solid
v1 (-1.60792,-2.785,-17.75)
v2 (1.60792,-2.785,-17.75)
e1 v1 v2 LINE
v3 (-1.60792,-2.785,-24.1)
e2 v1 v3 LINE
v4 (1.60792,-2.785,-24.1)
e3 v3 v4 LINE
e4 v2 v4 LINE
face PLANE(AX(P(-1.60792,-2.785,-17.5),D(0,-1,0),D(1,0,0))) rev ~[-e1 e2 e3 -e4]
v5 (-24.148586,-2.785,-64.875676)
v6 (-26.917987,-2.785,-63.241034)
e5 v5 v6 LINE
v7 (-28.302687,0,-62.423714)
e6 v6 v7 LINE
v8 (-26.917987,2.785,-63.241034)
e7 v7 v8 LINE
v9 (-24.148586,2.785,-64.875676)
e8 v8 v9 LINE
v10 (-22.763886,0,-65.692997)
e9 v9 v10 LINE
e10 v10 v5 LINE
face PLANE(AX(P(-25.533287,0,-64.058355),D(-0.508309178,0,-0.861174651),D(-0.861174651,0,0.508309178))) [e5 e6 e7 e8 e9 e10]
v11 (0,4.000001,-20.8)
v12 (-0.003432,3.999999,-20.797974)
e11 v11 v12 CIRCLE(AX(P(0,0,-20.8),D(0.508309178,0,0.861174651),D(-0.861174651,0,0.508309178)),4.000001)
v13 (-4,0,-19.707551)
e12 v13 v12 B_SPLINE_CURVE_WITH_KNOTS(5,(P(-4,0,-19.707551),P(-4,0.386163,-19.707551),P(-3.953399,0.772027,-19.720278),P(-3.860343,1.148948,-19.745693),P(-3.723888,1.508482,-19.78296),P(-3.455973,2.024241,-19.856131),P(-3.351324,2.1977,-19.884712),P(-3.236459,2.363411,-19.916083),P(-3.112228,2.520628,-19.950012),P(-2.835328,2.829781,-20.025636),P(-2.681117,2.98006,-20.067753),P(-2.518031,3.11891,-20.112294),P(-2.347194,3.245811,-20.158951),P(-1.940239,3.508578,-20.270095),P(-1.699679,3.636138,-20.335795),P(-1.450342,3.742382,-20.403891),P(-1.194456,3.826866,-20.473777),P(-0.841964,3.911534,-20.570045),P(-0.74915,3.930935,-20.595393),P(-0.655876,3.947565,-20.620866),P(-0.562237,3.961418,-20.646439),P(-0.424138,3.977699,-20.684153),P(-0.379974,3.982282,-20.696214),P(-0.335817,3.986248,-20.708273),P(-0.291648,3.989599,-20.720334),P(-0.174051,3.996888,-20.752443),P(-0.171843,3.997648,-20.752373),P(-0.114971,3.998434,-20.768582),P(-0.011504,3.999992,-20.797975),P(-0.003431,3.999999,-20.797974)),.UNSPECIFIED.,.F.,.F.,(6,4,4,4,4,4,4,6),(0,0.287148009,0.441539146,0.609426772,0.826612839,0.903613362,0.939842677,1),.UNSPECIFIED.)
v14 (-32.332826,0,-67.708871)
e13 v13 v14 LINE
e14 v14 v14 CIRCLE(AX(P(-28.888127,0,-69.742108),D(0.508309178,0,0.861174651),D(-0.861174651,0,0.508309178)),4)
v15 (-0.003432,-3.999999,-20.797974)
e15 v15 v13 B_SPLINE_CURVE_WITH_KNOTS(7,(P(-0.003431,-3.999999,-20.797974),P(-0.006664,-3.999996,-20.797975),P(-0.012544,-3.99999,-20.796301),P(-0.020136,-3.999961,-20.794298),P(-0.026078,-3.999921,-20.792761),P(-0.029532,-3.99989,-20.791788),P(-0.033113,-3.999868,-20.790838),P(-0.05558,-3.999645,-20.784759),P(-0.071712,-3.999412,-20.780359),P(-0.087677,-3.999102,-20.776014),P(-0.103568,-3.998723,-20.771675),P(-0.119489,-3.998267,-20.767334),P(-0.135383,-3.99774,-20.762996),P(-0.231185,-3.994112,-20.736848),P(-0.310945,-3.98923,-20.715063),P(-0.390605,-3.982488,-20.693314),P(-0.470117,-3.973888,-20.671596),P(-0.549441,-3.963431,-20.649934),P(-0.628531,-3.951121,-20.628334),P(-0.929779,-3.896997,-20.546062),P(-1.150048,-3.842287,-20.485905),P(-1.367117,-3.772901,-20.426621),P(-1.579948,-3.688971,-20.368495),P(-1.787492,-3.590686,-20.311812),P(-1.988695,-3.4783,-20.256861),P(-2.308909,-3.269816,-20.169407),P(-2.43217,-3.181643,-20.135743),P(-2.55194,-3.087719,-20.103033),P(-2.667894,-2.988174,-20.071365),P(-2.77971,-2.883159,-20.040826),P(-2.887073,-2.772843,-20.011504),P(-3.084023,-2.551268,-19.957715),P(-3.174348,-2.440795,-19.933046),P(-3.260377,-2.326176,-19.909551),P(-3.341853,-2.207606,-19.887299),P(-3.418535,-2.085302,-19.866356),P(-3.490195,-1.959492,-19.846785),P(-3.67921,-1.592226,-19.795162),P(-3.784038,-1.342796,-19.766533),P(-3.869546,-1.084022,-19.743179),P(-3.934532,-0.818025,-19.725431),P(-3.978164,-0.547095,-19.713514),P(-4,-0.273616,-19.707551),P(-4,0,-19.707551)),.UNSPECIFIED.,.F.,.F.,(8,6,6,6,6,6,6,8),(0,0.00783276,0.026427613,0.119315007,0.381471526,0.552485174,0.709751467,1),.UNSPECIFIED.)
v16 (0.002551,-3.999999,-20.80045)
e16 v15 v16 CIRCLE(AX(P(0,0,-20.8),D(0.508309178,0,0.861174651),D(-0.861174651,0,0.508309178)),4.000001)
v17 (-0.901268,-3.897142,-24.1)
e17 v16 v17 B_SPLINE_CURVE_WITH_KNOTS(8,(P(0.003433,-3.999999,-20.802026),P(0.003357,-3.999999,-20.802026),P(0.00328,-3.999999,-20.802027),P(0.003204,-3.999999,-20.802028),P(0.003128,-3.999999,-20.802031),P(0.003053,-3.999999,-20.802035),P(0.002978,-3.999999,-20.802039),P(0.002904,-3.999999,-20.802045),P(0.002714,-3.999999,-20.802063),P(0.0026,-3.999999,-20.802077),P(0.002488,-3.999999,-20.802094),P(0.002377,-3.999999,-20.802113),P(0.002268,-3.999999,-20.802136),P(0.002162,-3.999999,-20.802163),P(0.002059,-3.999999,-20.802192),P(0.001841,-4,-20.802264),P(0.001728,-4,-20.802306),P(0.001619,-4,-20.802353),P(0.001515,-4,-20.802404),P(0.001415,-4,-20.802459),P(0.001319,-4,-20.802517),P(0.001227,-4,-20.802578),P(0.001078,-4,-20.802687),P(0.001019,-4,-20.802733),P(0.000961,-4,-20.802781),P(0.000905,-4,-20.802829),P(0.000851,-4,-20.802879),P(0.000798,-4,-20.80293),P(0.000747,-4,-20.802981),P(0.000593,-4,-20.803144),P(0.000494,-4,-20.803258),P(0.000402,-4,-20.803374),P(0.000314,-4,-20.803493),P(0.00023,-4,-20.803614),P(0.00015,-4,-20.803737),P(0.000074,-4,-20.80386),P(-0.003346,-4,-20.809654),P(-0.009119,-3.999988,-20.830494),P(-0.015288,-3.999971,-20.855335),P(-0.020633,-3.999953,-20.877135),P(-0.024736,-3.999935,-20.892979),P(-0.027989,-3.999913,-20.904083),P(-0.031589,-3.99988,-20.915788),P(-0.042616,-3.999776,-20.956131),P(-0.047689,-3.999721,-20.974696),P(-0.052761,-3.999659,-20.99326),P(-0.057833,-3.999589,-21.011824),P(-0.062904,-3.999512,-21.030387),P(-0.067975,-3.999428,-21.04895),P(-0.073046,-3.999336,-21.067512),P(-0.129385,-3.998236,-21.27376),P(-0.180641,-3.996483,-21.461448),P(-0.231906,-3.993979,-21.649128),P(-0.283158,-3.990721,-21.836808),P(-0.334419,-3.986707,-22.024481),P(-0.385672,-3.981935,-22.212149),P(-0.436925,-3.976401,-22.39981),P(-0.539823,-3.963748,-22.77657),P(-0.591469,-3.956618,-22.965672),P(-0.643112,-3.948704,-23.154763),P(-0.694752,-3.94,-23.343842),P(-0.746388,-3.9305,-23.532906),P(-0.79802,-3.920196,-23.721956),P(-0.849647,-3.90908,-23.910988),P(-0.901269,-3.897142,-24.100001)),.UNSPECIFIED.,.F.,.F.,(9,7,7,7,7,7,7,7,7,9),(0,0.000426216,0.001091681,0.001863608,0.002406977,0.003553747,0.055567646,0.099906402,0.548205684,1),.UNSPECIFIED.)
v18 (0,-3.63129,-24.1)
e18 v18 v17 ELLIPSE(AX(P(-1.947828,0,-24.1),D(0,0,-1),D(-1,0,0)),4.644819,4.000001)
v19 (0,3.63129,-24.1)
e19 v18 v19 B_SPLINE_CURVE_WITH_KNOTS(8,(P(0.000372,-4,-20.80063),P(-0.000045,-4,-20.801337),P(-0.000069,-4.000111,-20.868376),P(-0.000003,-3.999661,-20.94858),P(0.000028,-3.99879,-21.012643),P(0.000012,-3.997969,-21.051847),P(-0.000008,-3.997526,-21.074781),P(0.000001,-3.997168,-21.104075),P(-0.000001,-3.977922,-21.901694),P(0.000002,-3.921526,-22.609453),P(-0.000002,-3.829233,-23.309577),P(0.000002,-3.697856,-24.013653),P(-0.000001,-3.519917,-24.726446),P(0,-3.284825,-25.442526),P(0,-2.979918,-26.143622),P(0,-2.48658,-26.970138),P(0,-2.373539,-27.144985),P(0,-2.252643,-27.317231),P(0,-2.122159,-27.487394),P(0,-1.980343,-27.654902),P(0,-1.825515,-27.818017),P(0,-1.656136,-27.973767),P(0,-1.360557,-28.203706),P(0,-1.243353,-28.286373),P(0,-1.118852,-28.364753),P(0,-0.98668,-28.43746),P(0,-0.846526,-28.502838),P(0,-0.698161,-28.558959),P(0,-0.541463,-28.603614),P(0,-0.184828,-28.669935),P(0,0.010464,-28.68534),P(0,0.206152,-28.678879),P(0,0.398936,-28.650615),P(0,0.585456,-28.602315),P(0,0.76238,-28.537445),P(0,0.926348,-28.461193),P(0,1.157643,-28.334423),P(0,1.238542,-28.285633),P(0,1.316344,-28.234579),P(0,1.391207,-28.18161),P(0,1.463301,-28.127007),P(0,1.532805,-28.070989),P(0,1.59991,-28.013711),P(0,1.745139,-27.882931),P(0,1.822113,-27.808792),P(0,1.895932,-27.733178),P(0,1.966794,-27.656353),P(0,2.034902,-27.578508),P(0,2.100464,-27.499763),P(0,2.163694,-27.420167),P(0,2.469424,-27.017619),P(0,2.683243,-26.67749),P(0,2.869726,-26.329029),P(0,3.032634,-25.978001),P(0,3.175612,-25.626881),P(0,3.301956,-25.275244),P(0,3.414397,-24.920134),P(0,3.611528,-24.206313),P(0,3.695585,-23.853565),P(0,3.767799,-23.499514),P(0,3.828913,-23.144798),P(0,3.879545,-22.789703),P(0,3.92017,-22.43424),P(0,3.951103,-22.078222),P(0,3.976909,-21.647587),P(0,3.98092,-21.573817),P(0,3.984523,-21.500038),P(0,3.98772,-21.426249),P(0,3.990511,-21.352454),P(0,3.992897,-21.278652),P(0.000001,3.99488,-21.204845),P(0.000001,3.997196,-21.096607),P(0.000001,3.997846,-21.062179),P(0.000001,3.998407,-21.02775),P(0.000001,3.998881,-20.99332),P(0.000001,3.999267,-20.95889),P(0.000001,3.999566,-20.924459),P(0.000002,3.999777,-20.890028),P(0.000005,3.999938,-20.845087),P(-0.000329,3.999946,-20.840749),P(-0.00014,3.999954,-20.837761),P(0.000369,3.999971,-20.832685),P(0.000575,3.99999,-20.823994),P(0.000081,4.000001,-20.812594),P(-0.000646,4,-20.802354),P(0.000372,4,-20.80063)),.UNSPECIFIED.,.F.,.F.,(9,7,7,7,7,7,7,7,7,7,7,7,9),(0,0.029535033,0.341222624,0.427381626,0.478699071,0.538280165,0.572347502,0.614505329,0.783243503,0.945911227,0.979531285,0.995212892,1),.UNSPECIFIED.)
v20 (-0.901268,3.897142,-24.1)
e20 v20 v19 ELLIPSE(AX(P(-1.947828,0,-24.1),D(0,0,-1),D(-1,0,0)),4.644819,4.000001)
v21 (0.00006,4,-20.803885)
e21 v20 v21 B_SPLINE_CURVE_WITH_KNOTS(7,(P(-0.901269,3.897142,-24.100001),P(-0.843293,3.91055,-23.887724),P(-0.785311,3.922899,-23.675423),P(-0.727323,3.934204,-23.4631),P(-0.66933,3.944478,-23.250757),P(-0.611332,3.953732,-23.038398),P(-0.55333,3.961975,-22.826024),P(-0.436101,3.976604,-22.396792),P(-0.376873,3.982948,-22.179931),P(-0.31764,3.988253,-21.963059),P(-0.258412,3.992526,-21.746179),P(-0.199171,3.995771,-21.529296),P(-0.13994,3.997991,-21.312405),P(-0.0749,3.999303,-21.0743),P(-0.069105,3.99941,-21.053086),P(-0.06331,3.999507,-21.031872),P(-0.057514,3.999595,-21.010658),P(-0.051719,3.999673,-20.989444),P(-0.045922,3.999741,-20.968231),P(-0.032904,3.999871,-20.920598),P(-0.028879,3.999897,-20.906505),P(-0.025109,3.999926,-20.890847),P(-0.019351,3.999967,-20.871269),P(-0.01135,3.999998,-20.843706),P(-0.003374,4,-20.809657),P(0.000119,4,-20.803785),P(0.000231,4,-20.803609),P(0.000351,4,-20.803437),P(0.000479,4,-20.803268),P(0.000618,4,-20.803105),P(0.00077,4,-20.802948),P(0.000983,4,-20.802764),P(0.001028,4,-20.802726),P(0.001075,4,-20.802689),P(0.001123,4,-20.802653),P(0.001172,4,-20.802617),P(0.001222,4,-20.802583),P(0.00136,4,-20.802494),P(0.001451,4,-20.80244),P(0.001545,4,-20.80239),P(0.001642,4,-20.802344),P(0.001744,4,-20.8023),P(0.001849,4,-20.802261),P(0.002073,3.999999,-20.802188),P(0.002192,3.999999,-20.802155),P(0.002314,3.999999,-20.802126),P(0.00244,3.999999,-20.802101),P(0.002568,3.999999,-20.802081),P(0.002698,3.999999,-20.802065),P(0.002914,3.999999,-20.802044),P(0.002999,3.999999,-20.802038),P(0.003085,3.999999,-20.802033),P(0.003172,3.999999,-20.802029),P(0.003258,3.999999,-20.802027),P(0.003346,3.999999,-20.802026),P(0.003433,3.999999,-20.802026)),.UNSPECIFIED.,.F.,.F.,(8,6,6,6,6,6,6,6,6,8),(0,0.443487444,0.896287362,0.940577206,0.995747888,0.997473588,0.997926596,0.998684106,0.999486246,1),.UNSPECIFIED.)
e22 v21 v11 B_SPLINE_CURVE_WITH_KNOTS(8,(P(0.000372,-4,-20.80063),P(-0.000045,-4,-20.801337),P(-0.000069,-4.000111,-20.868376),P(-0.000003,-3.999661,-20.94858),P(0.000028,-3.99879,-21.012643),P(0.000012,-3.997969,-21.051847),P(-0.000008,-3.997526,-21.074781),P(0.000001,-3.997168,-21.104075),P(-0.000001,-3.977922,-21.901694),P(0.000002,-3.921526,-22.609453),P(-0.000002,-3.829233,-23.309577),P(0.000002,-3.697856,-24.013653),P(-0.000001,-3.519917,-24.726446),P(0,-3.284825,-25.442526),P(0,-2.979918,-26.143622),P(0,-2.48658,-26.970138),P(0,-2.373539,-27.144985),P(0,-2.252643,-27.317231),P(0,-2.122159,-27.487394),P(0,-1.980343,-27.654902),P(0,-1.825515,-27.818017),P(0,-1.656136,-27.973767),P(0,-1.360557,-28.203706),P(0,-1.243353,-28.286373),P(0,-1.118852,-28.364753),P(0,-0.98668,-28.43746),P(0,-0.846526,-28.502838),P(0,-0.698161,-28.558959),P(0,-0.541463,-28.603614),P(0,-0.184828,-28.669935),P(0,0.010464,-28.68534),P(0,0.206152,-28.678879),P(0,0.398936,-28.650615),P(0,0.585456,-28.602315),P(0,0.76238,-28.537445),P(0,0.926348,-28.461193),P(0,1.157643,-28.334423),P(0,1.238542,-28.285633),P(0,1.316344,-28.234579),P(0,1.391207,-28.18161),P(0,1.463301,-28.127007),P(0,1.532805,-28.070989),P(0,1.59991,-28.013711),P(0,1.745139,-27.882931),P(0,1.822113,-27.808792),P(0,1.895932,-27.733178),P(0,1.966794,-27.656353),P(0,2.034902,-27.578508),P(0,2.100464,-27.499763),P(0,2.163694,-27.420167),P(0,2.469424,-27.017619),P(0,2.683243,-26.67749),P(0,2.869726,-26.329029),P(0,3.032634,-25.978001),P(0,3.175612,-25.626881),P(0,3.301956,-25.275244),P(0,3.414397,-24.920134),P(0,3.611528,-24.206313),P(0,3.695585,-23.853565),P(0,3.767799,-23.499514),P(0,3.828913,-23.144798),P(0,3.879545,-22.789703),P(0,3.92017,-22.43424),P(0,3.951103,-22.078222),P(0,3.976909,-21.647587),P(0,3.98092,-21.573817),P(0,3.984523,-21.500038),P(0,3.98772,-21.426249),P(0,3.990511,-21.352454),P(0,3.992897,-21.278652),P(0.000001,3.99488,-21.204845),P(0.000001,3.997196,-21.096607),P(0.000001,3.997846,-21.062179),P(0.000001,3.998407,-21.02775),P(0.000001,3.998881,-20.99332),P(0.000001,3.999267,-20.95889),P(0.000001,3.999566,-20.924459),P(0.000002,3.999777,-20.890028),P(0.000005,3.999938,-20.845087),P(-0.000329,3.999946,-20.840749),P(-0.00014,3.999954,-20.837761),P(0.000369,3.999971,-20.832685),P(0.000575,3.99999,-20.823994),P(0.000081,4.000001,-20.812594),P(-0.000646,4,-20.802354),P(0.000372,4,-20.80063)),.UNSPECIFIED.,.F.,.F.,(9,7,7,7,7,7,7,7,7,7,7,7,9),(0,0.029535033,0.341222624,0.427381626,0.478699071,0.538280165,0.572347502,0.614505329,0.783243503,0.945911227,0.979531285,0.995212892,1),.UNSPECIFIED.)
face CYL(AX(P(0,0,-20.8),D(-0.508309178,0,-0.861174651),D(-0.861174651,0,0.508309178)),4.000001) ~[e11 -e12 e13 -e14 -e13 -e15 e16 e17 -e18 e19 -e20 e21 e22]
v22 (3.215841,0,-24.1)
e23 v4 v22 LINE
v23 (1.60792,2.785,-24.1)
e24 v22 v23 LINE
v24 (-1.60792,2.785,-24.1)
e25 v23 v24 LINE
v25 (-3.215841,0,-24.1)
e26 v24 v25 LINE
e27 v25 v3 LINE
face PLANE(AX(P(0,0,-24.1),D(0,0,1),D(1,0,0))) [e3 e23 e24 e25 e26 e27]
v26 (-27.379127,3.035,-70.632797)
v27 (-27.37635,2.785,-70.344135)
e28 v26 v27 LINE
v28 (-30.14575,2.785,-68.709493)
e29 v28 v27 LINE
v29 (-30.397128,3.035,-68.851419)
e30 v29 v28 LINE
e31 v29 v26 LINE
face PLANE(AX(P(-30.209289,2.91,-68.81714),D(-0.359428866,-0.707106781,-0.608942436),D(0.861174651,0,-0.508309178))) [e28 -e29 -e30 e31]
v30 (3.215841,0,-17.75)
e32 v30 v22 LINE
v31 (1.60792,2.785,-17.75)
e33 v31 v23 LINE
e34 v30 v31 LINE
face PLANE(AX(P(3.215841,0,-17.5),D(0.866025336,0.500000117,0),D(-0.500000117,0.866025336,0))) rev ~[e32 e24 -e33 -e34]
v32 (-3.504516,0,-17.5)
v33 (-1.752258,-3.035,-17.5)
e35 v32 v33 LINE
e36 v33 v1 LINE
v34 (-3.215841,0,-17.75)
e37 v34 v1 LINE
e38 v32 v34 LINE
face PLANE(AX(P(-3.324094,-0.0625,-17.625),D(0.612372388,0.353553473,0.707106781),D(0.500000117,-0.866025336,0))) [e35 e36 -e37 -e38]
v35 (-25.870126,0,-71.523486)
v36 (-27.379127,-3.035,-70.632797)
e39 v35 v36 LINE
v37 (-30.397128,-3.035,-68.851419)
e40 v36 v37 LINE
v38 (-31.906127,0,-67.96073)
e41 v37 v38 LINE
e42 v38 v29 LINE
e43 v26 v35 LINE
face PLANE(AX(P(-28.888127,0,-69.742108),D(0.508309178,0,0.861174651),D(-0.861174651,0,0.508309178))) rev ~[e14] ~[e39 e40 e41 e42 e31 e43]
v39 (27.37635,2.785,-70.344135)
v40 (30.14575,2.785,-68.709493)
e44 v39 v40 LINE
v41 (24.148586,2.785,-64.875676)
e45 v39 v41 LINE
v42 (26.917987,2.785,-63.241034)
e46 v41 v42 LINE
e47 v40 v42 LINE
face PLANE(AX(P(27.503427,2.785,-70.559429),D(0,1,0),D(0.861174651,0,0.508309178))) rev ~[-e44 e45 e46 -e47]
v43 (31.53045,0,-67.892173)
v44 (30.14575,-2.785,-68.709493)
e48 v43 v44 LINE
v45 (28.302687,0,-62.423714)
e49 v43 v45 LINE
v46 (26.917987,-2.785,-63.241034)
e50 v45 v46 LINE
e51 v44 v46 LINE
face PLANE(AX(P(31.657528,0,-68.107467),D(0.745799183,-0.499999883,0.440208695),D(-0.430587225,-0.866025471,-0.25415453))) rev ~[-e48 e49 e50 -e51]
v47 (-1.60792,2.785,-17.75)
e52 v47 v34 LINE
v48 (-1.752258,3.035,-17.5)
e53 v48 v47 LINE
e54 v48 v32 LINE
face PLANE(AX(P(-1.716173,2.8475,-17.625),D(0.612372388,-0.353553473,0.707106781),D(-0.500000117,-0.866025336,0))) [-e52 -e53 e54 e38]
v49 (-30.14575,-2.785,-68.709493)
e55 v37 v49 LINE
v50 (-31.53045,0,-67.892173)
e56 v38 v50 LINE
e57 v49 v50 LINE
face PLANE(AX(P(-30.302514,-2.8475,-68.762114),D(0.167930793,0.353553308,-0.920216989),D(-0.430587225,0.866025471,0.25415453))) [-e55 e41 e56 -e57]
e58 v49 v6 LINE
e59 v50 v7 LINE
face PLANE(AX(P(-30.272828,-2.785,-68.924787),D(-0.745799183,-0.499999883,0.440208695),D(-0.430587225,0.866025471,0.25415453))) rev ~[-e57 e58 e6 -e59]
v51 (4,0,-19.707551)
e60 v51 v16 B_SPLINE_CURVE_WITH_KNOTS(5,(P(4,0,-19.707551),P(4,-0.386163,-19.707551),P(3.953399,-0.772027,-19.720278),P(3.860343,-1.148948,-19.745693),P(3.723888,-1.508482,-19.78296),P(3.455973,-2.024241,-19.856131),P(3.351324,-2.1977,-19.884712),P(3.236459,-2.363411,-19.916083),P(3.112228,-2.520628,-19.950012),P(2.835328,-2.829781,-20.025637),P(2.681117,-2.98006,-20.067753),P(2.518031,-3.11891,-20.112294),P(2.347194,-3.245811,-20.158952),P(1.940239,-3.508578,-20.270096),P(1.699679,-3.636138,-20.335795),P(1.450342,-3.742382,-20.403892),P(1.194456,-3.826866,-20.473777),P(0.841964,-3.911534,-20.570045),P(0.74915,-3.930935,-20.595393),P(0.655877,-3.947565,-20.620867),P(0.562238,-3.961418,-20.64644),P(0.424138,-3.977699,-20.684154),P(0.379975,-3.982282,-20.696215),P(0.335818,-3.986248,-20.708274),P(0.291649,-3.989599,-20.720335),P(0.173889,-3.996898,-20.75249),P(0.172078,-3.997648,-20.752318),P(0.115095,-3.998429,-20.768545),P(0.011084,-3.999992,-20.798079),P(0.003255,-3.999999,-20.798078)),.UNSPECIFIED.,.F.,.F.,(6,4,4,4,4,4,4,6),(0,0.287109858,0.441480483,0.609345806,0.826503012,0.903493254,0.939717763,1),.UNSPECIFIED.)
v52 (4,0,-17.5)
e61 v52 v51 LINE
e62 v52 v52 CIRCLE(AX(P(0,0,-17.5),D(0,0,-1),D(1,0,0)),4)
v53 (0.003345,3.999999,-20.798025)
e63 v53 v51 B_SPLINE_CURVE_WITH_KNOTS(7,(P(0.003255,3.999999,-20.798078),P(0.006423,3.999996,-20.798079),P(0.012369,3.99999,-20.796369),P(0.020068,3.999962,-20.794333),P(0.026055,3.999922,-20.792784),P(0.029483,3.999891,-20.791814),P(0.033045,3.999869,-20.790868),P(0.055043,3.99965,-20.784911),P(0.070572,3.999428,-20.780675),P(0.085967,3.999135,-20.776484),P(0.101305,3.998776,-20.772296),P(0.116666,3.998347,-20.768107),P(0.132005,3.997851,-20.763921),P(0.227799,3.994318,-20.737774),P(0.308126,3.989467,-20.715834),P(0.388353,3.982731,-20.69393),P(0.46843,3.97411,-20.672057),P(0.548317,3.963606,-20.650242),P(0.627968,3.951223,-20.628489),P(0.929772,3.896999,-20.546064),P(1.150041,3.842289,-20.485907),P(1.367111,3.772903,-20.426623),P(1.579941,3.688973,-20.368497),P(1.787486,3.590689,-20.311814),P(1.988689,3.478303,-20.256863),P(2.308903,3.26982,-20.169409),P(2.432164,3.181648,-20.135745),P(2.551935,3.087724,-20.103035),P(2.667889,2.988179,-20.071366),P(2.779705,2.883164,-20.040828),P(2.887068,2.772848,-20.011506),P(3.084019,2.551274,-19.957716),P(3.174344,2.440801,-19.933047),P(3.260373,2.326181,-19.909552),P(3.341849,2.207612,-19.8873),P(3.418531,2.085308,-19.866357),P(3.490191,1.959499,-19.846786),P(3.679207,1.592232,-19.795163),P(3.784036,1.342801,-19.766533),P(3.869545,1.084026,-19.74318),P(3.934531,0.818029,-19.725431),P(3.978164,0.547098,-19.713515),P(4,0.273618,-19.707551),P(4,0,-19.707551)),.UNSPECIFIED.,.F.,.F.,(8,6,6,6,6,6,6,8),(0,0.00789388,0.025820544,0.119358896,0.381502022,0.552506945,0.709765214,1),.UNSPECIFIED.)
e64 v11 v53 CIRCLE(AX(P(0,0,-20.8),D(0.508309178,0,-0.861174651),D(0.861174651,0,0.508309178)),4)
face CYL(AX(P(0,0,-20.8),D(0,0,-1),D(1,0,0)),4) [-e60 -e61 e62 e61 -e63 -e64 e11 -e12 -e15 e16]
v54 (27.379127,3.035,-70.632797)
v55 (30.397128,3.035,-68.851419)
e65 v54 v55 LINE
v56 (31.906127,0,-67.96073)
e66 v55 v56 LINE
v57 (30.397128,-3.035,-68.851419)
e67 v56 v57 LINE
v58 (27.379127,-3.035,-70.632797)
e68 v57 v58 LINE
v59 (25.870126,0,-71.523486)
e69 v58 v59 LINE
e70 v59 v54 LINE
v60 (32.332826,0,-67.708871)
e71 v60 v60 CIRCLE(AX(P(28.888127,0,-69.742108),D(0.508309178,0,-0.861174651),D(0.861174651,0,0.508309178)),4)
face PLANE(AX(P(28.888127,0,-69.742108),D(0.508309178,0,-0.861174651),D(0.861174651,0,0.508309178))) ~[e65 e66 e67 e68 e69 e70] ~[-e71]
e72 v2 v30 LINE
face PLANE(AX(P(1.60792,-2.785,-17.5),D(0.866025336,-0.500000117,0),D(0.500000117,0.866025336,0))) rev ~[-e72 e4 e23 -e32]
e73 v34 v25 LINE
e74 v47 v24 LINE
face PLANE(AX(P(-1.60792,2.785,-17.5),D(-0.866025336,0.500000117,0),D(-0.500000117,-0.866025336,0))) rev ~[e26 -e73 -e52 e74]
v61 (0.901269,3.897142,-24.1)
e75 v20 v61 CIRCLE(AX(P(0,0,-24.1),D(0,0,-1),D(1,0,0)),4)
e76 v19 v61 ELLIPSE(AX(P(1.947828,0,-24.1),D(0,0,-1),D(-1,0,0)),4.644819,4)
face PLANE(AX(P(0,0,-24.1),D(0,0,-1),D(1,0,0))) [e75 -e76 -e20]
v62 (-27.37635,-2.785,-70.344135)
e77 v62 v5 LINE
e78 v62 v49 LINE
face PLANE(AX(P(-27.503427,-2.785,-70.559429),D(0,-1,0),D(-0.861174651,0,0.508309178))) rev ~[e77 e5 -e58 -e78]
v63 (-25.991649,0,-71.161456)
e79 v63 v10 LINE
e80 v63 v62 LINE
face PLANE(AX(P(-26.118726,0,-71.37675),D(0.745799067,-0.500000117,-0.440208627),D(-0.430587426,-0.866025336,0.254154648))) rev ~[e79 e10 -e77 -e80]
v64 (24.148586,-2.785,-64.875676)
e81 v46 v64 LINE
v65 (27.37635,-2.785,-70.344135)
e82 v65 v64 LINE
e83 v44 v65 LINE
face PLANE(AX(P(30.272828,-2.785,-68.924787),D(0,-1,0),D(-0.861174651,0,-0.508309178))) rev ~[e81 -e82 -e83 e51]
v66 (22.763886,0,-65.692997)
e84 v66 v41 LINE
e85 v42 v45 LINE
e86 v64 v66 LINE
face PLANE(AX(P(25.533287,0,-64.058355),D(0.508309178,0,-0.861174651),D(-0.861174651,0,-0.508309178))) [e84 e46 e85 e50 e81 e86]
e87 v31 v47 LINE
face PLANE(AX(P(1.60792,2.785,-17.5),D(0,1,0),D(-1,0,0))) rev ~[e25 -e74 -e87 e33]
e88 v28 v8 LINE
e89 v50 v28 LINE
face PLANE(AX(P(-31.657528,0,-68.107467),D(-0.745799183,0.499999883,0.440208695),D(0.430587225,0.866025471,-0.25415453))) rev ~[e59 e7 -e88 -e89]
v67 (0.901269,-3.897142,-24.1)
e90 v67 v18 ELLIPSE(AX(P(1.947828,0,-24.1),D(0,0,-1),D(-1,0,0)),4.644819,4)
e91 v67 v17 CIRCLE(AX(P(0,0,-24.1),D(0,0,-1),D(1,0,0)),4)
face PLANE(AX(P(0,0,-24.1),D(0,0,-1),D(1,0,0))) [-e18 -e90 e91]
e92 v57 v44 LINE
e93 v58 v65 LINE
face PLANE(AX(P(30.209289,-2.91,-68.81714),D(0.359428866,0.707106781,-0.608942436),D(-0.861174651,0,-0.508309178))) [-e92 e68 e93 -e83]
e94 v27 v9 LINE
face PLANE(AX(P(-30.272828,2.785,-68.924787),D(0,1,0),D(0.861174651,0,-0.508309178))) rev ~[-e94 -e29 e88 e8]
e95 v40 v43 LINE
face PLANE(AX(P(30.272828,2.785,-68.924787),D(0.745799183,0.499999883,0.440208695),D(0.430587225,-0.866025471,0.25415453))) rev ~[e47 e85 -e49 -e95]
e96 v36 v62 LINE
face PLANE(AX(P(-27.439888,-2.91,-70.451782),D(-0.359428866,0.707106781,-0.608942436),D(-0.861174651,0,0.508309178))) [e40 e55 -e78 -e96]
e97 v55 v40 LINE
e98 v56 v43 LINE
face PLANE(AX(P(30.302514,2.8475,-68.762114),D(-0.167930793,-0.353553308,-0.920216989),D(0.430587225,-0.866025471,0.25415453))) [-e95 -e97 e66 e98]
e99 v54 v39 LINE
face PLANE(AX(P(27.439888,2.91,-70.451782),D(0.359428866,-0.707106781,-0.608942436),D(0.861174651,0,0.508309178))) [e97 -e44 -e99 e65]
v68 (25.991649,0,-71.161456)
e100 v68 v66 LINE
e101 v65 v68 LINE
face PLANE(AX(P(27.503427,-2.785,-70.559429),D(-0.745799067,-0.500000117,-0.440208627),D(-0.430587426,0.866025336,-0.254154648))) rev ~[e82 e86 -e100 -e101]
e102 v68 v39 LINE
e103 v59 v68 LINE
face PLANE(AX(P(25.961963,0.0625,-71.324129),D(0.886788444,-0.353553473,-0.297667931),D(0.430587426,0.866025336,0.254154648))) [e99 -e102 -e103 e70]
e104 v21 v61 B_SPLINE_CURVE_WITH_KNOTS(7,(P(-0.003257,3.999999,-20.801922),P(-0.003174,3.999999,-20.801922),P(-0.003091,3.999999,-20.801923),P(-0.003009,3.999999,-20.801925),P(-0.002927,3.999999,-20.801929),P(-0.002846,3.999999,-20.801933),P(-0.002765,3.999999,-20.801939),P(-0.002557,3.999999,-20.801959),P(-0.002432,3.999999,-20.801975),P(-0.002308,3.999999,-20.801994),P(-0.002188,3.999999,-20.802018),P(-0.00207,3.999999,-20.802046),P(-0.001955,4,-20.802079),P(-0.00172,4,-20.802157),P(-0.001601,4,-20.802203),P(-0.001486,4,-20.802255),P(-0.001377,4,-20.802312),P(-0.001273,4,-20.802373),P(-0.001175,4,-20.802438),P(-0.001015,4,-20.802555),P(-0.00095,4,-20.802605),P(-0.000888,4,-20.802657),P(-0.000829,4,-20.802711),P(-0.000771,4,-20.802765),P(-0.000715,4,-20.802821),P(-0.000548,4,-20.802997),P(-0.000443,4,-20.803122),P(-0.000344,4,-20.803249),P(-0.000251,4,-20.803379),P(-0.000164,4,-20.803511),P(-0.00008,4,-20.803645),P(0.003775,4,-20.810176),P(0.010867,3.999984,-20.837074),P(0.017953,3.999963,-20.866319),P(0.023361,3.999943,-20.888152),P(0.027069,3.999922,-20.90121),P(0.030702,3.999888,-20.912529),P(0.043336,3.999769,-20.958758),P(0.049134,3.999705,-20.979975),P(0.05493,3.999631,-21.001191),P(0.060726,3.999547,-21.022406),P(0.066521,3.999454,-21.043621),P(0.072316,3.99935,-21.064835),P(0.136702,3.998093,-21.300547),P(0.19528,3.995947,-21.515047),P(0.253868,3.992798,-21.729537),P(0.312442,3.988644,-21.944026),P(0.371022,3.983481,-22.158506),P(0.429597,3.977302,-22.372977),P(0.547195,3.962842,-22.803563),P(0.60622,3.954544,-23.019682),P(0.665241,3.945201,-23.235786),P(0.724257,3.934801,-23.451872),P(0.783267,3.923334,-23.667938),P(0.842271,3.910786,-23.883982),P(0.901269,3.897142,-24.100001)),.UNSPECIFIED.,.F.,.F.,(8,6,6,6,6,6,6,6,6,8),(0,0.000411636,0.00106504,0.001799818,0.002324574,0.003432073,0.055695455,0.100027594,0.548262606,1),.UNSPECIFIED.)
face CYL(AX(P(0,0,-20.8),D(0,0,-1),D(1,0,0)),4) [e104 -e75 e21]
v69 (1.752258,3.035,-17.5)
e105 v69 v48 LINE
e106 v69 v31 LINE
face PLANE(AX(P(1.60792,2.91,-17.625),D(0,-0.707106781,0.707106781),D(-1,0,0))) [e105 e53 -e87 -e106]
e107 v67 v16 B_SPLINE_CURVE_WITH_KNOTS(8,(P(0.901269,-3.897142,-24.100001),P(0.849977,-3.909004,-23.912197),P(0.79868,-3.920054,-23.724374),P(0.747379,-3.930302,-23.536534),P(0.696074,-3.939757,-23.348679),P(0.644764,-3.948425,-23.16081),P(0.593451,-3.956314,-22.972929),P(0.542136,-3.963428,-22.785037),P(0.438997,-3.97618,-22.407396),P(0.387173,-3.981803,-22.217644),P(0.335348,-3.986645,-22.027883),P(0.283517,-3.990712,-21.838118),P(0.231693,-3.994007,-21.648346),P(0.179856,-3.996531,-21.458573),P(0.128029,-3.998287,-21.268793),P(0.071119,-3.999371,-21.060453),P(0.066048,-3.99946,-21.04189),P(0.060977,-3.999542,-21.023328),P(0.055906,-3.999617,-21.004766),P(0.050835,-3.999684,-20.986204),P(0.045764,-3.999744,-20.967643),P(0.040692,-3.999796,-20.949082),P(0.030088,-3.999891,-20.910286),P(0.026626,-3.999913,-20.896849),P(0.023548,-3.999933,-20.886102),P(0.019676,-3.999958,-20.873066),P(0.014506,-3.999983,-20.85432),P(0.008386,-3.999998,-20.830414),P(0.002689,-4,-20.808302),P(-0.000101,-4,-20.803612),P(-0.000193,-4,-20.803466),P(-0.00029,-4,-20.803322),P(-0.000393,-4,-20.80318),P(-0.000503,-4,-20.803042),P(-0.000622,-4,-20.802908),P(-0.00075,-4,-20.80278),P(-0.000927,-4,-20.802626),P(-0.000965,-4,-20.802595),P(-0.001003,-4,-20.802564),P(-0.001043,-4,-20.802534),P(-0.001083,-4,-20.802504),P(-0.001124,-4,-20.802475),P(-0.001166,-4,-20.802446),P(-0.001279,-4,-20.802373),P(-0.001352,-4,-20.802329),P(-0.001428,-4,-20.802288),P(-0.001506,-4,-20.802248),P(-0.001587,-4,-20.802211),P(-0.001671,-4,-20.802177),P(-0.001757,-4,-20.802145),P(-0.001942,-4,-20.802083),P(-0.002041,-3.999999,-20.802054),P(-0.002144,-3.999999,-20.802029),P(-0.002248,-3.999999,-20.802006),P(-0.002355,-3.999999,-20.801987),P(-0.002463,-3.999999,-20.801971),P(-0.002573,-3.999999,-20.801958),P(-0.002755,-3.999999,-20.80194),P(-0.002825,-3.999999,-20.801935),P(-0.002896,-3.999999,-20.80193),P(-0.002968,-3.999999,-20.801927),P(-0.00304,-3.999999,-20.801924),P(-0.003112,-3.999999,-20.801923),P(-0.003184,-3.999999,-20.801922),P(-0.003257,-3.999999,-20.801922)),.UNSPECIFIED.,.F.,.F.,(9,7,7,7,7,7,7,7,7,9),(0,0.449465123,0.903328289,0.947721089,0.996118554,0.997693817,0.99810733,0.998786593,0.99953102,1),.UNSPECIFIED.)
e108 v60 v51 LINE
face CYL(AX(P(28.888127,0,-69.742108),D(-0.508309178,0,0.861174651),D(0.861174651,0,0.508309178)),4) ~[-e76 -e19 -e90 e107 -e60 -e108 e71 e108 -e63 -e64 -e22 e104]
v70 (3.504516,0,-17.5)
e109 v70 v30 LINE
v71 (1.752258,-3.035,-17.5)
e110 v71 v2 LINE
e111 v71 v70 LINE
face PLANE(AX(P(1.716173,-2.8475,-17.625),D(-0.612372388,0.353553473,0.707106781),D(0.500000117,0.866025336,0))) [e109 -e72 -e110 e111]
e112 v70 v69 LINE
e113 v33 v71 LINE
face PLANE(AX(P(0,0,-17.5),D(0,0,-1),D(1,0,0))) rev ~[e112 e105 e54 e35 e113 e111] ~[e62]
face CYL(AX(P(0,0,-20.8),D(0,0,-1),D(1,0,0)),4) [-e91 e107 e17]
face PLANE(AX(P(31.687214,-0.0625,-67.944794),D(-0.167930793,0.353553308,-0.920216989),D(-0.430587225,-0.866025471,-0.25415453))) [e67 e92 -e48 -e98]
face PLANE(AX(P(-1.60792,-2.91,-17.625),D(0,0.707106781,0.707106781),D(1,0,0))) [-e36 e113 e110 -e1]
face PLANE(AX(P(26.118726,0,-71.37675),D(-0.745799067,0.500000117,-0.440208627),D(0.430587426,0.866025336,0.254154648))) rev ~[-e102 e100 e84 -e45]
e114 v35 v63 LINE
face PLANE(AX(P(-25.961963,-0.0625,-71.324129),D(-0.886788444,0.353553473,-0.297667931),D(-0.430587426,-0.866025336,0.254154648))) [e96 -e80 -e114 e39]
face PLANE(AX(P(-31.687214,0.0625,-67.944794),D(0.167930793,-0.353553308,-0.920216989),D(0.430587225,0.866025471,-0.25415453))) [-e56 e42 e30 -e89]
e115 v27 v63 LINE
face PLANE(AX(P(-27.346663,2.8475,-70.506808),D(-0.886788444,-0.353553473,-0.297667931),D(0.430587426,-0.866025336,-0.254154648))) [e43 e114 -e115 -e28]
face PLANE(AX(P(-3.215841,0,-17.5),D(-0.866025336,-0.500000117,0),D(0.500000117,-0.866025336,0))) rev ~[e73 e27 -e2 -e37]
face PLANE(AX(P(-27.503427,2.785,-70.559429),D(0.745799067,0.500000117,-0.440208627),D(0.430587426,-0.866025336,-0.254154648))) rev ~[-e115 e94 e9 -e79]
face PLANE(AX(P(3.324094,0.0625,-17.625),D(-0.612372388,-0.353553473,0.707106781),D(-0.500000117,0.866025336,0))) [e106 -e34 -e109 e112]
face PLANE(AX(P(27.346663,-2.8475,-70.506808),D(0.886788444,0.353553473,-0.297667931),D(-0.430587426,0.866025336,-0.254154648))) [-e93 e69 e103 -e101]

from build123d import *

# Parameters (mm, degrees)
SKETCH1_W          = 4
SKETCH1_H          = 6.6
CUT_EXTRUDE1_DEPTH = 6.6
CUT_EXTRUDE2_DEPTH = 6.6
CUT_EXTRUDE3_DEPTH = 6.6
CHAMFER1_SIZE      = 0.25


with BuildPart() as part:
    # Sketch1 → Revolve-Thin1 (revolve)
    with BuildSketch(Plane(origin=(0, 0, 0), x_dir=(1, 0, 0), z_dir=(0, 1, 0)), mode=Mode.PRIVATE) as revolve_thin1_sk:
        with Locations((-2, 20.8)):
            Rectangle(SKETCH1_W, SKETCH1_H)
    revolve(revolve_thin1_sk.sketch.rotate(Axis((0, 0, 0), (0, 0, -1)), 180), axis=Axis((0, 0, 0), (0, 0, -1)))

    # Sketch3 → Revolve-Thin2 (revolve)
    with BuildSketch(Plane(origin=(0, 0, 0), x_dir=(1, 0, 0), z_dir=(0, 1, 0)), mode=Mode.PRIVATE) as revolve_thin2_sk:
        Polygon((-28.888127, 69.742108), (0, 20.8), (3.444699, 22.833237), (-25.443428, 71.775345), align=None)
    revolve(revolve_thin2_sk.sketch.rotate(Axis((-28.888127, 0, -69.742108), (0.5083091776235522, 0, 0.8611746512430961)), 180), axis=Axis((-28.888127, 0, -69.742108), (0.5083091776235522, 0, 0.8611746512430961)))

    # Sketch4 → Revolve-Thin3 (revolve)
    with BuildSketch(Plane(origin=(0, 0, 0), x_dir=(1, 0, 0), z_dir=(0, 1, 0)), mode=Mode.PRIVATE) as revolve_thin3_sk:
        Polygon((0, 20.8), (28.888127, 69.742108), (25.443428, 71.775345), (-3.444699, 22.833237), align=None)
    revolve(revolve_thin3_sk.sketch.rotate(Axis((0, 0, -20.8), (0.5083091776235522, 0, -0.8611746512430961)), 180), axis=Axis((0, 0, -20.8), (0.5083091776235522, 0, -0.8611746512430961)))

    # Sketch5 → Cut-Extrude1 (cut)
    with BuildSketch(Plane(origin=(-37.993181, 0, -64.367841), x_dir=(-0.861174651243096, 0, 0.5083091776235522), z_dir=(-0.5083091776235522, 0, -0.861174651243096))):
        Polygon((-8.96491, 2.785), (-12.180751, 2.785), (-13.788672, 0), (-12.180751, -2.785), (-8.96491, -2.785), (-7.35699, 0), align=None)
    extrude(amount=-CUT_EXTRUDE1_DEPTH, mode=Mode.SUBTRACT)

    # Sketch6 → Cut-Extrude2 (cut)
    with BuildSketch(Plane.XY.offset(-17.5)):
        Polygon((1.60792, 2.785), (-1.60792, 2.785), (-3.215841, 0), (-1.60792, -2.785), (1.60792, -2.785), (3.215841, 0), align=None)
    extrude(amount=-CUT_EXTRUDE2_DEPTH, mode=Mode.SUBTRACT)

    # Sketch7 → Cut-Extrude3 (cut)
    with BuildSketch(Plane(origin=(37.993181, 0, -64.367841), x_dir=(-0.861174651243096, 0, -0.5083091776235522), z_dir=(0.5083091776235522, 0, -0.861174651243096))):
        Polygon((12.180751, 2.785), (8.96491, 2.785), (7.35699, 0), (8.96491, -2.785), (12.180751, -2.785), (13.788672, 0), align=None)
    extrude(amount=-CUT_EXTRUDE3_DEPTH, mode=Mode.SUBTRACT)

    # Chamfer1
    chamfer1_edges = [part.edges().sort_by_distance(p)[0] for p in [
        (-30.965178, 1.3925, -68.516127),
        (-28.888127, 2.785, -69.742108),
        (-26.811077, 1.3925, -70.968089),
        (-26.811077, -1.3925, -70.968089),
        (-28.888127, -2.785, -69.742108),
        (-30.965178, -1.3925, -68.516127),
        (2.411881, 1.3925, -17.5),
        (0, 2.785, -17.5),
        (-2.411881, 1.3925, -17.5),
        (-2.411881, -1.3925, -17.5),
        (0, -2.785, -17.5),
        (2.411881, -1.3925, -17.5),
        (26.811077, 1.3925, -70.968089),
        (28.888127, 2.785, -69.742108),
        (30.965178, 1.3925, -68.516127),
        (30.965178, -1.3925, -68.516127),
        (28.888127, -2.785, -69.742108),
        (26.811077, -1.3925, -70.968089),
    ]]
    chamfer(chamfer1_edges, length=CHAMFER1_SIZE)


solid = part.part
